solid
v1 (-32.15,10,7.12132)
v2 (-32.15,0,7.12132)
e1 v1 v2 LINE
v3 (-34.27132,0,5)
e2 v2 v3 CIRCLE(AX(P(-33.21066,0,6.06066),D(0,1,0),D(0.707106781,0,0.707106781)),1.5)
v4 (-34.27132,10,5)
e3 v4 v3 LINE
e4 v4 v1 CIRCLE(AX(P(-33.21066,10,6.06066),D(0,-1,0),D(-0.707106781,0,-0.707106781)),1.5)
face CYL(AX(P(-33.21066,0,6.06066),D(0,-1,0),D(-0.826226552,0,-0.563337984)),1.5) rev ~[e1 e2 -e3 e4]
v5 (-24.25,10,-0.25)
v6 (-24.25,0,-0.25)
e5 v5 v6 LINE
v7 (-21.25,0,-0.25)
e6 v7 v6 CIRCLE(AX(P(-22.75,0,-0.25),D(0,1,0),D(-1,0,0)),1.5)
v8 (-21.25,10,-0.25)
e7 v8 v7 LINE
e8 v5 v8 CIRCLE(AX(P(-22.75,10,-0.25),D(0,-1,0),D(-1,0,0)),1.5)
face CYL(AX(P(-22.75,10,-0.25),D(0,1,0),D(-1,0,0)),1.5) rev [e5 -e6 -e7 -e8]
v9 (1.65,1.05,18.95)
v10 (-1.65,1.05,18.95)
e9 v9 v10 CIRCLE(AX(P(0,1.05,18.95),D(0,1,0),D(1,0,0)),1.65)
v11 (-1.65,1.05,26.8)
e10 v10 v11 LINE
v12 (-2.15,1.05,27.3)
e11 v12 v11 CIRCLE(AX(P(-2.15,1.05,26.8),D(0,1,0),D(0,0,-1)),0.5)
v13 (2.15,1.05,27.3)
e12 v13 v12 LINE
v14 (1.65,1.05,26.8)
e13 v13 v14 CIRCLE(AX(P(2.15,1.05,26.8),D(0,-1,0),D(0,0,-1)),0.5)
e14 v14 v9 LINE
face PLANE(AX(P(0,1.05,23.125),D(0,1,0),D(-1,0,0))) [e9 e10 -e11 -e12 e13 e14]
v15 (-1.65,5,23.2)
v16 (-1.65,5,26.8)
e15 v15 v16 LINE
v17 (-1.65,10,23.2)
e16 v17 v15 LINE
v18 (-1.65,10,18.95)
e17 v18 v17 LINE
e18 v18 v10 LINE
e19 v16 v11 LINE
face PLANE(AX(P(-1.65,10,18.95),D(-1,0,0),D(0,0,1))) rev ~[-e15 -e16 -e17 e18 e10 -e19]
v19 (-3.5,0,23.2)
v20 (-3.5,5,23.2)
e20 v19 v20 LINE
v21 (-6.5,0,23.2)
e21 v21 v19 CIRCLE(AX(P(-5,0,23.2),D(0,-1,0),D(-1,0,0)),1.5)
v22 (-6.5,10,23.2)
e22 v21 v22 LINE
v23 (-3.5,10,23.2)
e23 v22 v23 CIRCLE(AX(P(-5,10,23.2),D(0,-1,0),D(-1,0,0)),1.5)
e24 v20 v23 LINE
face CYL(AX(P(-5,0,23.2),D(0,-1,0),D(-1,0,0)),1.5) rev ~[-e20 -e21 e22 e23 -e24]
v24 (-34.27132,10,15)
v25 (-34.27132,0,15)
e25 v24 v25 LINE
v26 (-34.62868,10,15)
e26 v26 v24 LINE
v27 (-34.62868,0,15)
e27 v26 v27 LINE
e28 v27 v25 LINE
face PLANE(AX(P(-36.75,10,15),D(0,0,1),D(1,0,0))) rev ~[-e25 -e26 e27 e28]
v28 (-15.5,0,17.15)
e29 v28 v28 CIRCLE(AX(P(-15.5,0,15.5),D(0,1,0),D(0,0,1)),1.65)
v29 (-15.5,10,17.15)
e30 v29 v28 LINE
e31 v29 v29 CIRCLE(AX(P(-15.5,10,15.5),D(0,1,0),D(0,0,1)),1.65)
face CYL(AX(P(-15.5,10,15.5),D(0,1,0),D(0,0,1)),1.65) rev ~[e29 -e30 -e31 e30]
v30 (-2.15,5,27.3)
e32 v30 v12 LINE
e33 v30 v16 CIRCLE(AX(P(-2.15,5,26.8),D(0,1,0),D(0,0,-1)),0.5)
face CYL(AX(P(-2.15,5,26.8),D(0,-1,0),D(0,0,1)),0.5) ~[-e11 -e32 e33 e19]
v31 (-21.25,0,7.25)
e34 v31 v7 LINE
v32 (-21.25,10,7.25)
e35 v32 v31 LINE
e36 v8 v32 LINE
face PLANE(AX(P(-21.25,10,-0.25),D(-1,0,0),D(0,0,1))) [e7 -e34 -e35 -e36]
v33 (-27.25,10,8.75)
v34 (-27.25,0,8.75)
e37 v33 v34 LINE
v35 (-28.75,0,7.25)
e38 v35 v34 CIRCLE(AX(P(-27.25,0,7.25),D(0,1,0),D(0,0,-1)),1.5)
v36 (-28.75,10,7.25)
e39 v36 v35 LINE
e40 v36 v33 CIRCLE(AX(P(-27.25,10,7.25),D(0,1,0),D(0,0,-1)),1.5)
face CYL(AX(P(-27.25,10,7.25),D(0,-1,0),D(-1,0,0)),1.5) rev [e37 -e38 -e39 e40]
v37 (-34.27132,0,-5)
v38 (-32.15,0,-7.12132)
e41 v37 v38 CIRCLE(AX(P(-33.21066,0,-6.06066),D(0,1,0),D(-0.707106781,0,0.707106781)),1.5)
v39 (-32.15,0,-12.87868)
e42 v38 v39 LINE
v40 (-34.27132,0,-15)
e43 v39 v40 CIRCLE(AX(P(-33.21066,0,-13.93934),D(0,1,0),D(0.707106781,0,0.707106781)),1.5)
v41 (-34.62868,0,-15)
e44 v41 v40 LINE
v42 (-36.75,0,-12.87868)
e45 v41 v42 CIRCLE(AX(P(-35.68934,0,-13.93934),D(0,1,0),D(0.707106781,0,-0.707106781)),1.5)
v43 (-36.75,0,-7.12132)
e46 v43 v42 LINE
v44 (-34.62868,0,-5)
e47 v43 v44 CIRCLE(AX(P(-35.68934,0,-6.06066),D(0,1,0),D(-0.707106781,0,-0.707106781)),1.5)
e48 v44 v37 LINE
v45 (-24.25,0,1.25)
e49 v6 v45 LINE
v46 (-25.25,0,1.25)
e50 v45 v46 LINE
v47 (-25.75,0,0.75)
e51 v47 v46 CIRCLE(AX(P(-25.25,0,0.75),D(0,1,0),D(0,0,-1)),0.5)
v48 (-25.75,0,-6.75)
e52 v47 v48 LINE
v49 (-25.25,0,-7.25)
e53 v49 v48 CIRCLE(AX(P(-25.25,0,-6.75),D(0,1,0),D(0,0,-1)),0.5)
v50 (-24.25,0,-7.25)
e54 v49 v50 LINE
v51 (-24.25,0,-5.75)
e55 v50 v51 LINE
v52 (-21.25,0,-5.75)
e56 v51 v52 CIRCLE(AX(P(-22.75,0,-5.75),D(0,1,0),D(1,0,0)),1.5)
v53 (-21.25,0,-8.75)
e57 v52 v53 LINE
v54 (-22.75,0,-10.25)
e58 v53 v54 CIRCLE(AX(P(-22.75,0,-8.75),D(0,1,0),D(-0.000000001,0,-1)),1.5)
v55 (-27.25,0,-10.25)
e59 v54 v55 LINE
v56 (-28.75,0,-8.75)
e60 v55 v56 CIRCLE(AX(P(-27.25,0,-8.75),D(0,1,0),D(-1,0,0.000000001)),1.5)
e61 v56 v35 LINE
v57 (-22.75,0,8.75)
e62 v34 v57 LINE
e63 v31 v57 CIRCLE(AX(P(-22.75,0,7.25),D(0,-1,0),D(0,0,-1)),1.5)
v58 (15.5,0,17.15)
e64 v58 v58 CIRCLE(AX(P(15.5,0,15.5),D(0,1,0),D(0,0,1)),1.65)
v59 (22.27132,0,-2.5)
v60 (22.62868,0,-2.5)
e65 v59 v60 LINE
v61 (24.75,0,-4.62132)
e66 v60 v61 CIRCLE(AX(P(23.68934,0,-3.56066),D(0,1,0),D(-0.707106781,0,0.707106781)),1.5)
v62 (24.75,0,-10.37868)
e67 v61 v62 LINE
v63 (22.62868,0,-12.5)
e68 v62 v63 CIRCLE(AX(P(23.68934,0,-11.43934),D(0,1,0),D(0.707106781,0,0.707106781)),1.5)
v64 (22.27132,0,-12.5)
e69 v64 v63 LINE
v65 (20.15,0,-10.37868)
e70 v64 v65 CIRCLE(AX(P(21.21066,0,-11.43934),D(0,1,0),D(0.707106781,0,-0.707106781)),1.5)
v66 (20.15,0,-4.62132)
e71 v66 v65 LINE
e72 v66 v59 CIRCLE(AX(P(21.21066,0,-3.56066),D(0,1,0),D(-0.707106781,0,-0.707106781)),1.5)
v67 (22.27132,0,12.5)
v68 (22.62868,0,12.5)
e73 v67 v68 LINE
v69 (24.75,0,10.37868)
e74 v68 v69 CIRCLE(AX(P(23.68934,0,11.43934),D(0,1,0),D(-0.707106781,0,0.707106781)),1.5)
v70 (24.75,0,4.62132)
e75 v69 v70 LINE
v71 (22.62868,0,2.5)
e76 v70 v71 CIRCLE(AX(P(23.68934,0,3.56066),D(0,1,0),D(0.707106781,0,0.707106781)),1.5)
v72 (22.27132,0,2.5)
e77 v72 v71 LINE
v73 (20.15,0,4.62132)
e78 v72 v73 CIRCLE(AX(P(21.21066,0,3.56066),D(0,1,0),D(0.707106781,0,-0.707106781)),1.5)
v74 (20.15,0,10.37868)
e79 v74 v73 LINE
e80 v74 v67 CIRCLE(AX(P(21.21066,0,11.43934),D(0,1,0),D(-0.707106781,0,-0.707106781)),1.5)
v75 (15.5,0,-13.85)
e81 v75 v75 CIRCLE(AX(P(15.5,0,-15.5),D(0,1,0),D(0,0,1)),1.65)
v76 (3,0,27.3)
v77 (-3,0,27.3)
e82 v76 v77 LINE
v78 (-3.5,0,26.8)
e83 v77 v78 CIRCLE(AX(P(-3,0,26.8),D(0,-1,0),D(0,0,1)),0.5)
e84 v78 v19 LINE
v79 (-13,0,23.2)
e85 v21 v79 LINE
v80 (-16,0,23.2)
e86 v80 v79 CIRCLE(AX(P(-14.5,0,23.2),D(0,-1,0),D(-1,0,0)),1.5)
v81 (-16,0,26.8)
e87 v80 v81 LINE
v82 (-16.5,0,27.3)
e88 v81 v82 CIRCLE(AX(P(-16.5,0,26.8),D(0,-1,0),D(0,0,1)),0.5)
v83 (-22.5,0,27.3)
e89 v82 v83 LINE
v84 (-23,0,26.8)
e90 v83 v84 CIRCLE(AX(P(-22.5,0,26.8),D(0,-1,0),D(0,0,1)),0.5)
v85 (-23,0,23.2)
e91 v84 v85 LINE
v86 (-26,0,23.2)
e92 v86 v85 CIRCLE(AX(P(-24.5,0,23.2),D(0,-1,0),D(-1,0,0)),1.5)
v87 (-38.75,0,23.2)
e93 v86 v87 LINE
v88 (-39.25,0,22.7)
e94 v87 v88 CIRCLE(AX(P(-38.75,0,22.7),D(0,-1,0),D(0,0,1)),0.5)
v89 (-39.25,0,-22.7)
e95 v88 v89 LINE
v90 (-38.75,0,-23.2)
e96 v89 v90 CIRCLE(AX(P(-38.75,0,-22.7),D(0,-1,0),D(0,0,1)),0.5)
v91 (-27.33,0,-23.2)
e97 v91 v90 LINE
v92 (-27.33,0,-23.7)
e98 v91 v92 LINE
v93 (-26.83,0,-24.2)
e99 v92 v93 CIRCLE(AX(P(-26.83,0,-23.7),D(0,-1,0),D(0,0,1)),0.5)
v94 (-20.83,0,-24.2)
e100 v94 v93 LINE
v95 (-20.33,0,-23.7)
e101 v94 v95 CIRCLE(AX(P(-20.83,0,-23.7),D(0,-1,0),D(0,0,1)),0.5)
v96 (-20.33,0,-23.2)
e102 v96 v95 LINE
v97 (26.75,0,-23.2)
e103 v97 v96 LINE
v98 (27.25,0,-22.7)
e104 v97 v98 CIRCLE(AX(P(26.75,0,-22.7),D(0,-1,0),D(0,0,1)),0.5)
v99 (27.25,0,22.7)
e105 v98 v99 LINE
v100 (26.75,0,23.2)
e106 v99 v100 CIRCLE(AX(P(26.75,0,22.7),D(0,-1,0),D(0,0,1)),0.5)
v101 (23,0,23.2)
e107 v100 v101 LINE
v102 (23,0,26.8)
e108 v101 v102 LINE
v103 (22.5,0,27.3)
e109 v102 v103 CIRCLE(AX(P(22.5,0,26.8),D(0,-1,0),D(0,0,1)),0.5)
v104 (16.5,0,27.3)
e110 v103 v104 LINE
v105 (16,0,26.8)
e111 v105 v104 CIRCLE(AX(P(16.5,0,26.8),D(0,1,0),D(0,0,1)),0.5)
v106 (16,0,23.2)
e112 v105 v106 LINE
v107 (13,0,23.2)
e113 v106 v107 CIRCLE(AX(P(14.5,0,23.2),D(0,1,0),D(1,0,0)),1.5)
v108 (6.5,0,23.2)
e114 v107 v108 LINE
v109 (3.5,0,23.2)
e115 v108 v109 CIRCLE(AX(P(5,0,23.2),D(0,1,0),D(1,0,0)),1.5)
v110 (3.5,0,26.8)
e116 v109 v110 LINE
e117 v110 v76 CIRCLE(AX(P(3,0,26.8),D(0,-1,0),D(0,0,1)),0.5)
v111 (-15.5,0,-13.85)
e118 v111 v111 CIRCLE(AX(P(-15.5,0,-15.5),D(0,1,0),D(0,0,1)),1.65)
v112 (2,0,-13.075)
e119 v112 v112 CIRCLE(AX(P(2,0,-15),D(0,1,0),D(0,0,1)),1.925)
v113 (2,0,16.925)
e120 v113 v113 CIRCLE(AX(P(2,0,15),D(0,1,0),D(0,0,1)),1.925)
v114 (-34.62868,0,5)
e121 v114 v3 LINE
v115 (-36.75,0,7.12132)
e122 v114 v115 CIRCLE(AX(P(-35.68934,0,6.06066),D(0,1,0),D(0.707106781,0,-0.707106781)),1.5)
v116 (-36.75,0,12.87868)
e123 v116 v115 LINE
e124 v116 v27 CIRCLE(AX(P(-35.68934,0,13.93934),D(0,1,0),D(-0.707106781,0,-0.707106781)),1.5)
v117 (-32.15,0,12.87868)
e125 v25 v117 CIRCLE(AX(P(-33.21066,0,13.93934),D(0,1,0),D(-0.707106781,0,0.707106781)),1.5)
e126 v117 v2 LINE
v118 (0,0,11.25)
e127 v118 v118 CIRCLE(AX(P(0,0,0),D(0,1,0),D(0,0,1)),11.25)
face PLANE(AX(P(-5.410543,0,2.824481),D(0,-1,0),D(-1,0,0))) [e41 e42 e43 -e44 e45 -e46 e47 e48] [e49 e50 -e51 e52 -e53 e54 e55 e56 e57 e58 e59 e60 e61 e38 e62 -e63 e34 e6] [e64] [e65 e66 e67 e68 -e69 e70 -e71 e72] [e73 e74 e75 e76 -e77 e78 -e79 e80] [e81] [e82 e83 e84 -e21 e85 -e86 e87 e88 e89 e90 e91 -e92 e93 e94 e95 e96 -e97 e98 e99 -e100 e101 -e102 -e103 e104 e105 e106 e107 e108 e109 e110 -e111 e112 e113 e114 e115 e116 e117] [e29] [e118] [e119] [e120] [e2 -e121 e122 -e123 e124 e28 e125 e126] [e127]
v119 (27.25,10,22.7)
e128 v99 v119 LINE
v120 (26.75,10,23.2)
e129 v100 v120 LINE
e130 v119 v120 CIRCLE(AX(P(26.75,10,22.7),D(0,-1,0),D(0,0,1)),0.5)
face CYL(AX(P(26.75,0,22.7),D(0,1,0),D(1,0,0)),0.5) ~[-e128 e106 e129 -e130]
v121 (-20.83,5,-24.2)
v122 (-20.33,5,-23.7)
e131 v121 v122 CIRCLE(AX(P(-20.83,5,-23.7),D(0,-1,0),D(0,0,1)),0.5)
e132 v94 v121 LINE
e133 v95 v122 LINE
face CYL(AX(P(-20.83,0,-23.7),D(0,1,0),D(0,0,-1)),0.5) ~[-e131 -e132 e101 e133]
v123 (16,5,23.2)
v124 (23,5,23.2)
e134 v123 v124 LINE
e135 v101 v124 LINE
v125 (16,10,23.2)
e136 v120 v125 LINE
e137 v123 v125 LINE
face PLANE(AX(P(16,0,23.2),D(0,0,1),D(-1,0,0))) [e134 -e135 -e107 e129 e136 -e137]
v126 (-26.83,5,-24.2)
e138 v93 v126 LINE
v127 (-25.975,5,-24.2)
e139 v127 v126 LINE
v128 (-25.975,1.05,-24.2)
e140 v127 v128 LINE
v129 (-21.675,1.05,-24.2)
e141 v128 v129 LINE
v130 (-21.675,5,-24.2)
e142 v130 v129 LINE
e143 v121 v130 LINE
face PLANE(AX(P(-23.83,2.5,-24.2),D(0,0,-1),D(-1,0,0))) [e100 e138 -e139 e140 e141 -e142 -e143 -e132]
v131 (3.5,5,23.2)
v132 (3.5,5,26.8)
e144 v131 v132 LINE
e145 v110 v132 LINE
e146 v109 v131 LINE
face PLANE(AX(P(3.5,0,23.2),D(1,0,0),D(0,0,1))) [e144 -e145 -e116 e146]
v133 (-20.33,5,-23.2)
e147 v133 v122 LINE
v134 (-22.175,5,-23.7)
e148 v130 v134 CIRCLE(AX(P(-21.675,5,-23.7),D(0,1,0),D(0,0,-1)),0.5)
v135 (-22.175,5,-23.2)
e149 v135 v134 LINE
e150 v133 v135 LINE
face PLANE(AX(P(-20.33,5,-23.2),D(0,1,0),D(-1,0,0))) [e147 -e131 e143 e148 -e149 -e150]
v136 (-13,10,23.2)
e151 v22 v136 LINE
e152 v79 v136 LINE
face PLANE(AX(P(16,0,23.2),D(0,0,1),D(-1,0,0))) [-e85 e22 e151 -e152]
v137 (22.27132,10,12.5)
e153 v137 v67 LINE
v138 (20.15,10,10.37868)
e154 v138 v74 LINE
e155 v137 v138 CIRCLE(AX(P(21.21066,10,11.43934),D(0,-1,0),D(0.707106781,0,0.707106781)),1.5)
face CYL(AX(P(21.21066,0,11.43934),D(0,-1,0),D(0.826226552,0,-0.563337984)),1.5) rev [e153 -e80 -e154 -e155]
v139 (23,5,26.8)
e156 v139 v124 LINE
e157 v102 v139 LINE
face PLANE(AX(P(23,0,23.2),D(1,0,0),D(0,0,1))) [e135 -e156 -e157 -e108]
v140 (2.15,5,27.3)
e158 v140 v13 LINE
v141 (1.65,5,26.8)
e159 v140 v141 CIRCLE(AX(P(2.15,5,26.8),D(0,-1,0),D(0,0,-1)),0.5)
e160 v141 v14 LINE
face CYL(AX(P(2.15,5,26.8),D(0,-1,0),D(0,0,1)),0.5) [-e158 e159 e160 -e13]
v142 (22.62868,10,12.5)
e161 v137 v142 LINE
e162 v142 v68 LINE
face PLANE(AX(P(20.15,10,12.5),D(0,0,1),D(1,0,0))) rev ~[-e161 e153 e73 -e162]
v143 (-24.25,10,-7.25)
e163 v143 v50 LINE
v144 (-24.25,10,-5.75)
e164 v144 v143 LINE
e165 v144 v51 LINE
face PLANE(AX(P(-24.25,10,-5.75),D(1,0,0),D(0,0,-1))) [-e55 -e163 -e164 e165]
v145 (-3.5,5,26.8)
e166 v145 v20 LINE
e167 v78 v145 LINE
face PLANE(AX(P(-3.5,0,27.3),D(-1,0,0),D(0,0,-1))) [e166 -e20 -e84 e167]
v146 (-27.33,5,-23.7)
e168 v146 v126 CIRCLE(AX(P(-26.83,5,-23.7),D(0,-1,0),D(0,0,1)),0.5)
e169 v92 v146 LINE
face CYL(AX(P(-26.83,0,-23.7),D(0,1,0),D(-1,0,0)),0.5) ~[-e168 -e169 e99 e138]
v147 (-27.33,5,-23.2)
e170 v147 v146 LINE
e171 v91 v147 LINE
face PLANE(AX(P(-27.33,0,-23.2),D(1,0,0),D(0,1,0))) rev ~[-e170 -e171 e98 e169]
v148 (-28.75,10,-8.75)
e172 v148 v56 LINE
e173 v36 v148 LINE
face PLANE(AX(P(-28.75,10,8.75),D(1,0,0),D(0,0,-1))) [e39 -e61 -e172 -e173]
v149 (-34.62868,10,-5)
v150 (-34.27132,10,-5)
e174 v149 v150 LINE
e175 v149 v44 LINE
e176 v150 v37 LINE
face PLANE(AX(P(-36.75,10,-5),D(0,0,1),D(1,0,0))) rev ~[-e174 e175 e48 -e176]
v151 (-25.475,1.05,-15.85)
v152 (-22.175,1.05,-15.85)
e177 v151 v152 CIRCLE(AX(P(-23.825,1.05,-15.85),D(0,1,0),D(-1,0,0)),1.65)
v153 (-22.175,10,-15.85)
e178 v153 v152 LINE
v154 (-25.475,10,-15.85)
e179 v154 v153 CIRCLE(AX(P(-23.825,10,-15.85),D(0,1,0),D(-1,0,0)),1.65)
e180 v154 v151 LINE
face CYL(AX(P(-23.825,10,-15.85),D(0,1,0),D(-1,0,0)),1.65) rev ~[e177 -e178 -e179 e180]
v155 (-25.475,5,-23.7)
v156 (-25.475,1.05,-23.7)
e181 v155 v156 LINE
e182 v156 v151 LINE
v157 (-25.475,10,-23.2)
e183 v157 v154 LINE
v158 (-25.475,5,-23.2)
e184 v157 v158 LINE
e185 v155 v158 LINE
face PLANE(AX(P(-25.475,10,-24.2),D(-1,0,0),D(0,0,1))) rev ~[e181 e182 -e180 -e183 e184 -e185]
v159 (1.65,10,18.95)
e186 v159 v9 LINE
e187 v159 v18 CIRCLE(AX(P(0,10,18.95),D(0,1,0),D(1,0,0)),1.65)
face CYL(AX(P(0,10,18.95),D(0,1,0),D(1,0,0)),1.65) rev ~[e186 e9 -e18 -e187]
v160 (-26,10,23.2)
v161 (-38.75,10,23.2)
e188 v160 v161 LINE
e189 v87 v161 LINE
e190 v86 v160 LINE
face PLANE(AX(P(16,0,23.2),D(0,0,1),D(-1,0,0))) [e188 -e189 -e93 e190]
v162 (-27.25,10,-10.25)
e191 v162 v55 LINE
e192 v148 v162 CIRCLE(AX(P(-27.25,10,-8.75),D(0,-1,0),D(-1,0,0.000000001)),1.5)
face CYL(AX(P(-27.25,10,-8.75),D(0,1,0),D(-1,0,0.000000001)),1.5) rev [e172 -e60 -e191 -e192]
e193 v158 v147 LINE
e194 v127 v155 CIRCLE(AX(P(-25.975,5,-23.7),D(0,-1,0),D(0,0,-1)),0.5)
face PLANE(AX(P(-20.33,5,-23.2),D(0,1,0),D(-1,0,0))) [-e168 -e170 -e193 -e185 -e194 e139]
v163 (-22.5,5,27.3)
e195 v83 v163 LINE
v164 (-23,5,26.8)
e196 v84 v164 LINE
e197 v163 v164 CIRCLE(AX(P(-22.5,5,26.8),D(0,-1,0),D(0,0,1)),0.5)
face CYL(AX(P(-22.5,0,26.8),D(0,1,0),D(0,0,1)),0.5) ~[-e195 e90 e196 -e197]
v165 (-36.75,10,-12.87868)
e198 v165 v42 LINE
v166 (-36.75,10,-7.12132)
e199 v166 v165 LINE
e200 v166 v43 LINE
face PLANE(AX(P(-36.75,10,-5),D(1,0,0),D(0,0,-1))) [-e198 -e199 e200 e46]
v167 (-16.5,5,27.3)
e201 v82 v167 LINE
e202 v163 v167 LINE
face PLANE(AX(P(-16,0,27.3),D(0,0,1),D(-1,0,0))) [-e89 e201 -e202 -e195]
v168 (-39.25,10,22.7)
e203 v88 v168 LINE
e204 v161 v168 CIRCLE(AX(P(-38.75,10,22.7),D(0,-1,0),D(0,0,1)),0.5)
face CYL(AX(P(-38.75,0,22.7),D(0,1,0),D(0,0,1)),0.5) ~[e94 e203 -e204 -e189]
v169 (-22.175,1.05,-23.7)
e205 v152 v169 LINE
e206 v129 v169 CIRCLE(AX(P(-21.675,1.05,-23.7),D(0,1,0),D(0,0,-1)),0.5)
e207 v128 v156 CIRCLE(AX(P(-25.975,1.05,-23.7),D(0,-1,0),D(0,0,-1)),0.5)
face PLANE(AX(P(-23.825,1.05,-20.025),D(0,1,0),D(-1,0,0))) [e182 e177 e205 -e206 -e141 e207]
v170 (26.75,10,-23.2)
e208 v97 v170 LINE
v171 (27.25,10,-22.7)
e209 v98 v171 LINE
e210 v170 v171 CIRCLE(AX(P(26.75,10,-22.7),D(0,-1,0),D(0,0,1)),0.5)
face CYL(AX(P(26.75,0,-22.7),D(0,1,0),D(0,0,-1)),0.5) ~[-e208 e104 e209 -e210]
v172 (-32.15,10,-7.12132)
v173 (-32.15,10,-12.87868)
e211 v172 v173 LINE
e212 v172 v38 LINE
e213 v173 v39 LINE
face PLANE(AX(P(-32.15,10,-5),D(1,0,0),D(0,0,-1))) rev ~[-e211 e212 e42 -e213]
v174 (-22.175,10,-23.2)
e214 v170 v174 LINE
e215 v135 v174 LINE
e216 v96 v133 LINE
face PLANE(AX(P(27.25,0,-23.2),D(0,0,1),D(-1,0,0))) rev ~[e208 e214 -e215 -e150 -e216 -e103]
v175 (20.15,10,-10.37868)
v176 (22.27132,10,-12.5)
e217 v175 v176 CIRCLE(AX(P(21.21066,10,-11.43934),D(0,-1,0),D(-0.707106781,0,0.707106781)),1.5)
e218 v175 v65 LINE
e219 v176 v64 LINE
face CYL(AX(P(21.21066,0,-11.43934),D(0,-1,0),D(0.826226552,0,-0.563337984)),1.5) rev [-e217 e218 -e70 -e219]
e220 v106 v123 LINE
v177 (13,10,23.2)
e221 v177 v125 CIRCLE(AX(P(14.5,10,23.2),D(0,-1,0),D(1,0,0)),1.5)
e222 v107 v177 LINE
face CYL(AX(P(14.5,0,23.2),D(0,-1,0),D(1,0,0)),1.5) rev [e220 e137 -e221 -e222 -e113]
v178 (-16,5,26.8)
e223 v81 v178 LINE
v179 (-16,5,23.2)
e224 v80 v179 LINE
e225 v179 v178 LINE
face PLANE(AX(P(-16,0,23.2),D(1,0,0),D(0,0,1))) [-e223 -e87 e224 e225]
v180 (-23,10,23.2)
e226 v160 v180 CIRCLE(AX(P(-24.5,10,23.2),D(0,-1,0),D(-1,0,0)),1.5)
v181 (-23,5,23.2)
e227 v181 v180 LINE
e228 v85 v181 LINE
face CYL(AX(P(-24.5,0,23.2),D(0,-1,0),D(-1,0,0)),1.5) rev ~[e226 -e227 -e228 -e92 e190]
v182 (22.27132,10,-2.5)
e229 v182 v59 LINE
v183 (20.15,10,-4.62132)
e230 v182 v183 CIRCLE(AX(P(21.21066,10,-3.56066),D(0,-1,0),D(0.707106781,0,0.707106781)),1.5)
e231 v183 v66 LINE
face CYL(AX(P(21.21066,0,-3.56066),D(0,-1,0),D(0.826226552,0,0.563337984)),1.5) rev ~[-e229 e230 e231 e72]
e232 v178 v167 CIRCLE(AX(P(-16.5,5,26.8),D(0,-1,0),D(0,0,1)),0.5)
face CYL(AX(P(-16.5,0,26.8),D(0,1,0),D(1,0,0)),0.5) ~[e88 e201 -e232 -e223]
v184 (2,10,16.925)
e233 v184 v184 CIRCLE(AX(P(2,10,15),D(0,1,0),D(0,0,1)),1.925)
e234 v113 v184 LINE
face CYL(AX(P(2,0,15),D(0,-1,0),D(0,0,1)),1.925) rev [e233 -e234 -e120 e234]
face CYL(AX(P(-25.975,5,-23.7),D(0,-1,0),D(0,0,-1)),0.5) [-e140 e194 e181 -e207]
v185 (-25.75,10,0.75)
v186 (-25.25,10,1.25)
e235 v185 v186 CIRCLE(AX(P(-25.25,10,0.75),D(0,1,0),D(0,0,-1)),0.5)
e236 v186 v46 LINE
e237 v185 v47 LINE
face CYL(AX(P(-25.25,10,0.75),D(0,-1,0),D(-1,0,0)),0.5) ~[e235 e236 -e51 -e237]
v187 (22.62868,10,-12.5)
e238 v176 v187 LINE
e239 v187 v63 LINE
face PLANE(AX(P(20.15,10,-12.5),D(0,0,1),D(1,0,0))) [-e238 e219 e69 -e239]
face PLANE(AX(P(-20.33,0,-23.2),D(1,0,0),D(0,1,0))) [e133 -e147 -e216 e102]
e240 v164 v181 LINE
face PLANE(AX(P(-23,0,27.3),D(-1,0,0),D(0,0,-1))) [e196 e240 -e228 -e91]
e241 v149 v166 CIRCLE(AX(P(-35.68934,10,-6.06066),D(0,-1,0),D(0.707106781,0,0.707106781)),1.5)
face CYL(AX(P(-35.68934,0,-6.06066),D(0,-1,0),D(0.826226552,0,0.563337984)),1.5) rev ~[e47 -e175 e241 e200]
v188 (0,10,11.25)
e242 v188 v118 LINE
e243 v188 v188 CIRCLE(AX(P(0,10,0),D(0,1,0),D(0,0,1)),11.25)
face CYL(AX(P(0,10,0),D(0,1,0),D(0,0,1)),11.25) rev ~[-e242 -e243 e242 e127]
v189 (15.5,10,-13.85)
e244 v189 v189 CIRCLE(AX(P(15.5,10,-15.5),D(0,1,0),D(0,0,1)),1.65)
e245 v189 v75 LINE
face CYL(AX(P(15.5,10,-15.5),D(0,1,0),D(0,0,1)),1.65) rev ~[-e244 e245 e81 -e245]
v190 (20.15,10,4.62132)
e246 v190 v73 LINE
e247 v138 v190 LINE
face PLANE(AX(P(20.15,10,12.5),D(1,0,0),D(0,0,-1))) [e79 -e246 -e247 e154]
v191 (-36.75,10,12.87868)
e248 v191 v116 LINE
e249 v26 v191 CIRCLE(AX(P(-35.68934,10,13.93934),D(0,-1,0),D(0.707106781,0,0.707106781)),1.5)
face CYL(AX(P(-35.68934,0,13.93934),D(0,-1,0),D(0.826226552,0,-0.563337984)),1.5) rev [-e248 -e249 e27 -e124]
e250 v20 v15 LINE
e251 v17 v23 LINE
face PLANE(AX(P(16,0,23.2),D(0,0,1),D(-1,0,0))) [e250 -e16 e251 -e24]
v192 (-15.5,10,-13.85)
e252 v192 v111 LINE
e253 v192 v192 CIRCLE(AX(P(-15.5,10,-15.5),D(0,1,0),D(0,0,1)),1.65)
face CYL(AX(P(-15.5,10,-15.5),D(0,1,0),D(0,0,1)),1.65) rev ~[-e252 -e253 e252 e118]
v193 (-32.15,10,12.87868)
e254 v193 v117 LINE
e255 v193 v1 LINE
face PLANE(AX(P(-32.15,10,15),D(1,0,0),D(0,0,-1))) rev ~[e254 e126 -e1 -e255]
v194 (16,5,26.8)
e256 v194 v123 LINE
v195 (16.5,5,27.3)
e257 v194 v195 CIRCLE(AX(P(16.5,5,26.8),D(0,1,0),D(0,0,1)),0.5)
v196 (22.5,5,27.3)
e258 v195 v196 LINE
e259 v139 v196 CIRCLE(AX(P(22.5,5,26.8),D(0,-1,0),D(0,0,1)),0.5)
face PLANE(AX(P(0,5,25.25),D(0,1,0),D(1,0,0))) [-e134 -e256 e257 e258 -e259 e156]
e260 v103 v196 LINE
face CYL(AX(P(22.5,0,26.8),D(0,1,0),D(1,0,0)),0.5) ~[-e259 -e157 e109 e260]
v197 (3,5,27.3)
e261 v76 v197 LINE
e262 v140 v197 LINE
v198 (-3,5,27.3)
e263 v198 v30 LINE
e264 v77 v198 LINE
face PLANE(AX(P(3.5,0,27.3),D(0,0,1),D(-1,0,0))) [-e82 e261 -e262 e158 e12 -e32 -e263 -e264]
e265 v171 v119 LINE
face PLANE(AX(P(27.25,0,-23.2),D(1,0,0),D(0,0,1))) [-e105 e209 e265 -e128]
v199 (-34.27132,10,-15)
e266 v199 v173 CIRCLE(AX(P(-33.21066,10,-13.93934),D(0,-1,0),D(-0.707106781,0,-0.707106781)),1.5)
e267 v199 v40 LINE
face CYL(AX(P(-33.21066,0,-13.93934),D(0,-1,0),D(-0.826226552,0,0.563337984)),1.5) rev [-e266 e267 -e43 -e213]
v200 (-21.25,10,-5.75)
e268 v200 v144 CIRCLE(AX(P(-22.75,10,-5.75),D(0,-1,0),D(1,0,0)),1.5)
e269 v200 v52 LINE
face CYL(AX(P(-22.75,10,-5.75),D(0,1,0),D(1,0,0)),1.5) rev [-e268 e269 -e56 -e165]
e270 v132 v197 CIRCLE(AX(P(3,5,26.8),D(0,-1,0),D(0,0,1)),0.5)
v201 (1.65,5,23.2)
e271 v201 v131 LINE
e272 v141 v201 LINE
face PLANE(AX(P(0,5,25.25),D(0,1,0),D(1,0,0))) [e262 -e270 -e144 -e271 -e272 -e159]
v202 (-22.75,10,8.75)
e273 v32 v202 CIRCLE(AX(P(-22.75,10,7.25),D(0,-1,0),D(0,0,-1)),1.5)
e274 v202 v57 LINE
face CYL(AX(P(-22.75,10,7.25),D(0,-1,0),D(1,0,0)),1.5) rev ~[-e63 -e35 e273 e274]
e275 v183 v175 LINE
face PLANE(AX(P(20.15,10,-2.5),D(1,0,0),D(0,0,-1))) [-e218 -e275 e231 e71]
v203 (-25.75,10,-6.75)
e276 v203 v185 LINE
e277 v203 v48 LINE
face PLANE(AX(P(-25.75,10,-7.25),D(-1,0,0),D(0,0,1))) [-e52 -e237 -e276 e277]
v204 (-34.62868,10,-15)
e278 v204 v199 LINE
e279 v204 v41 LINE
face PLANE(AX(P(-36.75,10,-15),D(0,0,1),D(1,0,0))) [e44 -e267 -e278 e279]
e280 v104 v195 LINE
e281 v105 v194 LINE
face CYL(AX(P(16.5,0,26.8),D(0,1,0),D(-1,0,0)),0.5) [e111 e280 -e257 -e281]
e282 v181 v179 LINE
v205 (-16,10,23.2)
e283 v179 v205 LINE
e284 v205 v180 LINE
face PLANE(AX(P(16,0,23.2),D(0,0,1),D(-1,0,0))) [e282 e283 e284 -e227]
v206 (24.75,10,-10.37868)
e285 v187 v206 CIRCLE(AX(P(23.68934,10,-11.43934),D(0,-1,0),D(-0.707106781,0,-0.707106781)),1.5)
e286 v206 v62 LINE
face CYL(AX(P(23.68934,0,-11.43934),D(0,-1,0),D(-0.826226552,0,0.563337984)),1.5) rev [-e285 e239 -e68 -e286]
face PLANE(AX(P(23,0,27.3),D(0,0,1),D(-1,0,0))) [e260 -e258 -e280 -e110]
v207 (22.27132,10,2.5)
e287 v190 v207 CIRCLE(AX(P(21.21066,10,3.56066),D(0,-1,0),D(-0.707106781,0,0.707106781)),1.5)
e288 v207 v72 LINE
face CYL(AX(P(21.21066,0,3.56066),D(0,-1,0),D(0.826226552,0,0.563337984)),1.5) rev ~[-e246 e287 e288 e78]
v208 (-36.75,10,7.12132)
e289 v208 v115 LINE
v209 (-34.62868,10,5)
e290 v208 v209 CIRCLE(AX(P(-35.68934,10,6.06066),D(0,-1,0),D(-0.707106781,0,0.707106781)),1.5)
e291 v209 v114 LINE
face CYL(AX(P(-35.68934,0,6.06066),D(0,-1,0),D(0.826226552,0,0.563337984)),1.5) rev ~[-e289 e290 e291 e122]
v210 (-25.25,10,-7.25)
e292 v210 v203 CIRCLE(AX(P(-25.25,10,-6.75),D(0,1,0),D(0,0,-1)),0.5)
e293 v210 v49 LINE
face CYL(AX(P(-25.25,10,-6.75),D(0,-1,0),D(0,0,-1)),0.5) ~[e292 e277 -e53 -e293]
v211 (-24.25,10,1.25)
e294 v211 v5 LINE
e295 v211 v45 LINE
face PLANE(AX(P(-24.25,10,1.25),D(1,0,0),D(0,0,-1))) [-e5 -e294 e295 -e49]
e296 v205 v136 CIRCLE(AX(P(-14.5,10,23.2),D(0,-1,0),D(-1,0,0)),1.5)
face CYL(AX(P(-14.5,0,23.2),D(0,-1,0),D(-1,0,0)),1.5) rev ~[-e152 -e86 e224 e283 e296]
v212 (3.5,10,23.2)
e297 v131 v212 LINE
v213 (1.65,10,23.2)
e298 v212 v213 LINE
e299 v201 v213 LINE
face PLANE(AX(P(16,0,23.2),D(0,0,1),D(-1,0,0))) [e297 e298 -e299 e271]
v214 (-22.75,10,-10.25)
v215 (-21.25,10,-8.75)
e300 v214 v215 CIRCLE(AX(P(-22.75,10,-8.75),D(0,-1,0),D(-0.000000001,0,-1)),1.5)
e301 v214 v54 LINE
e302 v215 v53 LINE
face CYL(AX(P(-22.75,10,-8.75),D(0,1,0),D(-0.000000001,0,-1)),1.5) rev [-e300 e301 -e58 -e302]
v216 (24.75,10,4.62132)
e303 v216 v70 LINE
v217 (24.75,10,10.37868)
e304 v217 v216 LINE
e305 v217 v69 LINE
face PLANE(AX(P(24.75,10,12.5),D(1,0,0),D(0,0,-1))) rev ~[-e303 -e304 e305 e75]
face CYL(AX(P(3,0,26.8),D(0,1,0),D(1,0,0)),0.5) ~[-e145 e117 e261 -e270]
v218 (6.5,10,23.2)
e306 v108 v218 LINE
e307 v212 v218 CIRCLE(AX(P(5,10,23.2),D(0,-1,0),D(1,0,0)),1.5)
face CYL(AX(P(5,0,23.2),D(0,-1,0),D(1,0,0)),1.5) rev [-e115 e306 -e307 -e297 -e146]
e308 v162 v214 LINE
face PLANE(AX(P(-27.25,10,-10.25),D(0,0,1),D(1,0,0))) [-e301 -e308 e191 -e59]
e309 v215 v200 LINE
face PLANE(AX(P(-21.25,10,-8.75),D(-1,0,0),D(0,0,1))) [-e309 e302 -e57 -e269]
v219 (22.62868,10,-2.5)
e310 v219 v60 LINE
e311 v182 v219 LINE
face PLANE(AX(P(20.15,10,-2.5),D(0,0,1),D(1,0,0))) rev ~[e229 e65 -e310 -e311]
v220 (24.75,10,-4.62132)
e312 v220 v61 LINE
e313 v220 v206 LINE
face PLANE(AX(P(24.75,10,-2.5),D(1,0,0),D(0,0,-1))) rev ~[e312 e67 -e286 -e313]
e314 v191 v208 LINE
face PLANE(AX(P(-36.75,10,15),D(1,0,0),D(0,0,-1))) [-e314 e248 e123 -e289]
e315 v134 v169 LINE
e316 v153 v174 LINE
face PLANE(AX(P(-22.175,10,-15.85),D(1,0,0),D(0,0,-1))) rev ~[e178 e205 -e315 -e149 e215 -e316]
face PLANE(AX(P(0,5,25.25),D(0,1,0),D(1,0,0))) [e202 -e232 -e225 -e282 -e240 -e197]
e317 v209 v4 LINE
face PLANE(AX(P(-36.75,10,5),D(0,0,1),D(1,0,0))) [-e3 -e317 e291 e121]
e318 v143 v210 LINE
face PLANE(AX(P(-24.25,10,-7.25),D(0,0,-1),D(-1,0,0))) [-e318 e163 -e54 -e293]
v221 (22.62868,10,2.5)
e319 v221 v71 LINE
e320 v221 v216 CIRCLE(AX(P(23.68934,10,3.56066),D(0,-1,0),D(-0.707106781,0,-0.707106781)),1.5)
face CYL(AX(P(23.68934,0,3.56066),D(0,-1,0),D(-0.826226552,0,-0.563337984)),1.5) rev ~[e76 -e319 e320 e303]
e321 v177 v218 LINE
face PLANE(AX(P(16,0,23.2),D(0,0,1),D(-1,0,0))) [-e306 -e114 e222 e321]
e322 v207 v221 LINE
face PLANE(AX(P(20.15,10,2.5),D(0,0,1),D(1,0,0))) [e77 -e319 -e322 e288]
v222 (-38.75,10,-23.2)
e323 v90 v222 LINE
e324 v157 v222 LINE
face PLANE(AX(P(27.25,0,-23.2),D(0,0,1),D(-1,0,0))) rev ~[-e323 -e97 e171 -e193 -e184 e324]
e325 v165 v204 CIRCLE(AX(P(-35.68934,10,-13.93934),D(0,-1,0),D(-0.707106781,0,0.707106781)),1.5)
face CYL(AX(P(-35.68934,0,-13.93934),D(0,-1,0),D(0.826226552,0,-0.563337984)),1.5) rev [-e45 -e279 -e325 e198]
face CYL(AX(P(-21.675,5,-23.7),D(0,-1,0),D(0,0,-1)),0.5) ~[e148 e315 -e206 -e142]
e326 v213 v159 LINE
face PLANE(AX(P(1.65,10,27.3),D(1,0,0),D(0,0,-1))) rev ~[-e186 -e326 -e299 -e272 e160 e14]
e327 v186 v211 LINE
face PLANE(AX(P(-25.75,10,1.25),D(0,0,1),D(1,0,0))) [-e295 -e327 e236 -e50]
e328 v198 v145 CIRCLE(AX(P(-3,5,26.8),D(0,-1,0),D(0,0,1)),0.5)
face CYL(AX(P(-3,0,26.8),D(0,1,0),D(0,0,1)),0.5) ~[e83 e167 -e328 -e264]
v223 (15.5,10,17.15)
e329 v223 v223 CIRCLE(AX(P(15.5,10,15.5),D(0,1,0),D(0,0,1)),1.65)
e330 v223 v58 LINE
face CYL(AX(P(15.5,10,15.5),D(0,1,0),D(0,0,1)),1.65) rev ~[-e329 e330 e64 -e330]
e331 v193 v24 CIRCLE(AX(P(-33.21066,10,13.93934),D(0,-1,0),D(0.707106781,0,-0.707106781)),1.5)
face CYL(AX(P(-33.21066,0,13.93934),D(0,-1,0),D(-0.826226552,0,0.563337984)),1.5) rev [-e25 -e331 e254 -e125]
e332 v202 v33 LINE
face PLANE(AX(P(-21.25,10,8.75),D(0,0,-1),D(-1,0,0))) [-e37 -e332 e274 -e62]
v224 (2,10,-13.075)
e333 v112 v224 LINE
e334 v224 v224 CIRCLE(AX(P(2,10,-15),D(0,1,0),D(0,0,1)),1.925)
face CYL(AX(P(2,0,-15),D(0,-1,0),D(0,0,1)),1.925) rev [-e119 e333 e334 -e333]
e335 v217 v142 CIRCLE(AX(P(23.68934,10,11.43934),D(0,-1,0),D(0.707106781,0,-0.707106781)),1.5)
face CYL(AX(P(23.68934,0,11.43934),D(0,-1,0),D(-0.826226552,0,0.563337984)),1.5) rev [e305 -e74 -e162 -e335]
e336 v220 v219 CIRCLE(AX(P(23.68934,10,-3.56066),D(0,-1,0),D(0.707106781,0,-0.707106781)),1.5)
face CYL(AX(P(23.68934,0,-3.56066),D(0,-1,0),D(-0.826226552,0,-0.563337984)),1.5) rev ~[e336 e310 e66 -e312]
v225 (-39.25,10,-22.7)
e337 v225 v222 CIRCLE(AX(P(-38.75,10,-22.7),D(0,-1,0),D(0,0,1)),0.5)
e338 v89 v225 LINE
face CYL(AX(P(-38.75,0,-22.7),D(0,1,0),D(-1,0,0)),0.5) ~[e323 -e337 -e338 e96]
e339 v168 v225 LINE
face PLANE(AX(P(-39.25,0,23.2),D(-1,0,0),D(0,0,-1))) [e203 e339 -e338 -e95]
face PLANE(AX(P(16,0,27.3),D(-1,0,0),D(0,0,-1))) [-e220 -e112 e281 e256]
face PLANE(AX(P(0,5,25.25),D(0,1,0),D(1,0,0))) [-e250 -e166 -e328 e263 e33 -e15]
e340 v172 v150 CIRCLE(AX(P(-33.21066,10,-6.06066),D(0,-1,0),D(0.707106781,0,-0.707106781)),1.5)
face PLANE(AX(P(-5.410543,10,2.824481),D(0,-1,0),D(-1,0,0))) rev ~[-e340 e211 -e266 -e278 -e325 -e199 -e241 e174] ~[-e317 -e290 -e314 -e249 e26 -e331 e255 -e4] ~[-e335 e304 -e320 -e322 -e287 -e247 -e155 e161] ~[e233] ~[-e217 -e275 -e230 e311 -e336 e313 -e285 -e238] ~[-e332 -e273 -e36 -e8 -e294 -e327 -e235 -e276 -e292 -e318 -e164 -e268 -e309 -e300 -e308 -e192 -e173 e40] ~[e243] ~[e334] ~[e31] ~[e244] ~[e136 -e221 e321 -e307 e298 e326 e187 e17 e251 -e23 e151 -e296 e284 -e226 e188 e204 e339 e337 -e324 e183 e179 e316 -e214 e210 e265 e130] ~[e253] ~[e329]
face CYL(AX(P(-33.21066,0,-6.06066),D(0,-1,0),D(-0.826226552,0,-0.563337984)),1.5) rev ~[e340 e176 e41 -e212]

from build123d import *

# Parameters (mm, degrees)
SKETCH1_R           = 1.925
BOSS_EXTRUDE1_DEPTH = 10
SKETCH2_R           = 11.25
SKETCH2_R_2         = 1.65
CUT_EXTRUDE1_DEPTH  = 49.845189118
SKETCH7_W           = 46
SKETCH7_H           = 4.1
CUT_EXTRUDE6_DEPTH  = 5
SKETCH10_W          = 4.6
SKETCH10_H          = 10
CUT_EXTRUDE8_DEPTH  = 10
CUT_EXTRUDE7_DEPTH  = 49.845189118
SKETCH13_W          = 7
SKETCH13_H          = 5
BOSS_EXTRUDE2_DEPTH = 1
CUT_EXTRUDE9_DEPTH  = 8.95
FILLET7_R           = 0.5
CUT_EXTRUDE10_DEPTH = 49.845189118
FILLET8_R           = 0.5
FILLET9_R           = 1.5


with BuildPart() as part:
    # Sketch1 → Boss-Extrude1 (new body)
    with BuildSketch(Plane(origin=(0, 0, 0), x_dir=(1, 0, 0), z_dir=(0, 1, 0))):
        Polygon((16, -23.2), (3.5, -23.2), (3.5, -27.3), (-3.5, -27.3), (-3.5, -23.2), (-16, -23.2), (-16, -27.3), (-23, -27.3), (-23, -23.2), (-39.25, -23.2), (-39.25, 23.2), (-23, 23.2), (23, 23.2), (27.25, 23.2), (27.25, -23.2), (23, -23.2), (23, -27.3), (16, -27.3), align=None)
        with Locations((2, -15)):
            Circle(SKETCH1_R, mode=Mode.SUBTRACT)
        with Locations((2, 15)):
            Circle(SKETCH1_R, mode=Mode.SUBTRACT)
    extrude(amount=BOSS_EXTRUDE1_DEPTH)

    # Sketch2 → Cut-Extrude1 (cut, through all)
    with BuildSketch(Plane(origin=(0, 10, 0), x_dir=(1, 0, 0), z_dir=(0, 1, 0))):
        Circle(SKETCH2_R)
        with Locations((-15.5, 15.5)):
            Circle(SKETCH2_R_2)
        with Locations((15.5, 15.5)):
            Circle(SKETCH2_R_2)
        with Locations((15.5, -15.5)):
            Circle(SKETCH2_R_2)
        with Locations((-15.5, -15.5)):
            Circle(SKETCH2_R_2)
    extrude(amount=-CUT_EXTRUDE1_DEPTH, mode=Mode.SUBTRACT)

    # Sketch7 → Cut-Extrude6 (cut)
    with BuildSketch(Plane(origin=(0, 10, 0), x_dir=(1, 0, 0), z_dir=(0, 1, 0))):
        with Locations((0, -25.25)):
            Rectangle(SKETCH7_W, SKETCH7_H)
    extrude(amount=-CUT_EXTRUDE6_DEPTH, mode=Mode.SUBTRACT)

    # Sketch10 → Cut-Extrude8 (cut)
    with BuildSketch(Plane(origin=(0, 10, 0), x_dir=(1, 0, 0), z_dir=(0, 1, 0))):
        with Locations((-34.45, 10)):
            Rectangle(SKETCH10_W, SKETCH10_H)
        with Locations((-34.45, -10)):
            Rectangle(SKETCH10_W, SKETCH10_H)
        with Locations((22.45, 7.5)):
            Rectangle(SKETCH10_W, SKETCH10_H)
        with Locations((22.45, -7.5)):
            Rectangle(SKETCH10_W, SKETCH10_H)
    extrude(amount=-CUT_EXTRUDE8_DEPTH, mode=Mode.SUBTRACT)

    # Sketch8 → Cut-Extrude7 (cut, through all)
    with BuildSketch(Plane.XZ):
        with BuildLine():
            Line((-23, 23.2), (-23, 27.3))
            ThreePointArc((-23, 27.3), (-24.5, 28.8), (-26, 27.3))
            Line((-26, 27.3), (-26, 23.2))
            ThreePointArc((-26, 23.2), (-24.5, 21.7), (-23, 23.2))
        make_face()
        with BuildLine():
            Line((13, 23.2), (13, 27.3))
            ThreePointArc((13, 27.3), (14.5, 28.8), (16, 27.3))
            Line((16, 27.3), (16, 23.2))
            ThreePointArc((16, 23.2), (14.5, 21.7), (13, 23.2))
        make_face()
        with BuildLine():
            Line((6.5, 27.3), (6.5, 23.2))
            ThreePointArc((6.5, 23.2), (5, 21.7), (3.5, 23.2))
            Line((3.5, 23.2), (3.5, 27.3))
            ThreePointArc((3.5, 27.3), (5, 28.8), (6.5, 27.3))
        make_face()
        with BuildLine():
            Line((-13, 23.2), (-13, 27.3))
            ThreePointArc((-13, 27.3), (-14.5, 28.8), (-16, 27.3))
            Line((-16, 27.3), (-16, 23.2))
            ThreePointArc((-16, 23.2), (-14.5, 21.7), (-13, 23.2))
        make_face()
        with BuildLine():
            Line((-6.5, 27.3), (-6.5, 23.2))
            ThreePointArc((-6.5, 23.2), (-5, 21.7), (-3.5, 23.2))
            Line((-3.5, 23.2), (-3.5, 27.3))
            ThreePointArc((-3.5, 27.3), (-5, 28.8), (-6.5, 27.3))
        make_face()
        with BuildLine():
            ThreePointArc((22.45, 12.284346805), (25.189339828, 11.439339828), (22.45, 10.594332852))
            ThreePointArc((22.45, 10.594332852), (19.710660172, 11.439339828), (22.45, 12.284346805))
        make_face()
        with BuildLine():
            ThreePointArc((22.45, 2.715653195), (25.189339828, 3.560660172), (22.45, 4.405667148))
            ThreePointArc((22.45, 4.405667148), (19.710660172, 3.560660172), (22.45, 2.715653195))
        make_face()
        with BuildLine():
            ThreePointArc((-34.45, -14.784346805), (-37.189339828, -13.939339828), (-34.45, -13.094332852))
            ThreePointArc((-34.45, -13.094332852), (-31.710660172, -13.939339828), (-34.45, -14.784346805))
        make_face()
        with BuildLine():
            ThreePointArc((-34.45, -5.215653195), (-37.189339828, -6.060660172), (-34.45, -6.905667148))
            ThreePointArc((-34.45, -6.905667148), (-31.710660172, -6.060660172), (-34.45, -5.215653195))
        make_face()
        with BuildLine():
            ThreePointArc((-34.45, 14.784346805), (-31.710660172, 13.939339828), (-34.45, 13.094332852))
            ThreePointArc((-34.45, 13.094332852), (-37.189339828, 13.939339828), (-34.45, 14.784346805))
        make_face()
        with BuildLine():
            ThreePointArc((-34.45, 5.215653195), (-31.710660172, 6.060660172), (-34.45, 6.905667148))
            ThreePointArc((-34.45, 6.905667148), (-37.189339828, 6.060660172), (-34.45, 5.215653195))
        make_face()
        with BuildLine():
            ThreePointArc((22.45, -12.284346805), (19.710660172, -11.439339828), (22.45, -10.594332852))
            ThreePointArc((22.45, -10.594332852), (25.189339828, -11.439339828), (22.45, -12.284346805))
        make_face()
        with BuildLine():
            ThreePointArc((22.45, -2.715653195), (19.710660172, -3.560660172), (22.45, -4.405667148))
            ThreePointArc((22.45, -4.405667148), (25.189339828, -3.560660172), (22.45, -2.715653195))
        make_face()
    extrude(amount=-CUT_EXTRUDE7_DEPTH, mode=Mode.SUBTRACT)

    # Sketch13 → Boss-Extrude2 (add)
    with BuildSketch(Plane(origin=(0, 0, -23.2), x_dir=(-1, 0, 0), z_dir=(0, 0, -1))):
        with Locations((23.83, 2.5)):
            Rectangle(SKETCH13_W, SKETCH13_H)
    extrude(amount=BOSS_EXTRUDE2_DEPTH)

    # Sketch12 → Cut-Extrude9 (cut)
    with BuildSketch(Plane.XZ.offset(-10)):
        with BuildLine():
            Line((-25.475, -24.2), (-25.475, -15.85))
            ThreePointArc((-25.475, -15.85), (-23.825, -14.2), (-22.175, -15.85))
            Line((-22.175, -15.85), (-22.175, -24.2))
            ThreePointArc((-22.175, -24.2), (-23.825, -25.85), (-25.475, -24.2))
        make_face()
        with BuildLine():
            Line((1.65, 27.3), (1.65, 18.95))
            ThreePointArc((1.65, 18.95), (0, 17.3), (-1.65, 18.95))
            Line((-1.65, 18.95), (-1.65, 27.3))
            ThreePointArc((-1.65, 27.3), (0, 28.95), (1.65, 27.3))
        make_face()
    extrude(amount=CUT_EXTRUDE9_DEPTH, mode=Mode.SUBTRACT)

    # Fillet7
    fillet7_edges = [part.edges().sort_by_distance(p)[0] for p in [
        (-23, 2.5, 27.3),
        (-16, 2.5, 27.3),
        (-3.5, 2.5, 27.3),
        (3.5, 2.5, 27.3),
        (16, 2.5, 27.3),
        (23, 2.5, 27.3),
        (27.25, 5, -23.2),
        (-39.25, 5, -23.2),
        (-39.25, 5, 23.2),
        (27.25, 5, 23.2),
        (-27.33, 2.5, -24.2),
        (-20.33, 2.5, -24.2),
        (-22.175, 3.025, -24.2),
        (-25.475, 3.025, -24.2),
        (1.65, 3.025, 27.3),
        (-1.65, 3.025, 27.3),
    ]]
    fillet(fillet7_edges, radius=FILLET7_R)

    # Sketch14 → Cut-Extrude10 (cut, through all)
    with BuildSketch(Plane.XZ.offset(-10)):
        with BuildLine():
            Line((-21.25, 8.75), (-28.75, 8.75))
            Line((-28.75, 8.75), (-28.75, -8.75))
            ThreePointArc((-28.75, -8.75), (-28.310660172, -9.810660172), (-27.25, -10.25))
            Line((-27.25, -10.25), (-22.75, -10.25))
            ThreePointArc((-22.75, -10.25), (-21.689339828, -9.810660172), (-21.25, -8.75))
            Line((-21.25, -8.75), (-21.25, -5.75))
            ThreePointArc((-21.25, -5.75), (-22.75, -4.25), (-24.25, -5.75))
            Line((-24.25, -5.75), (-24.25, -7.25))
            Line((-24.25, -7.25), (-25.75, -7.25))
            Line((-25.75, -7.25), (-25.75, 1.25))
            Line((-25.75, 1.25), (-24.25, 1.25))
            Line((-24.25, 1.25), (-24.25, -0.25))
            ThreePointArc((-24.25, -0.25), (-22.75, -1.75), (-21.25, -0.25))
            Line((-21.25, -0.25), (-21.25, 8.75))
        make_face()
    extrude(amount=CUT_EXTRUDE10_DEPTH, mode=Mode.SUBTRACT)

    # Fillet8
    fillet8_edges = [part.edges().sort_by_distance(p)[0] for p in [
        (-25.75, 5, -7.25),
        (-25.75, 5, 1.25),
    ]]
    fillet(fillet8_edges, radius=FILLET8_R)

    # Fillet9
    fillet9_edges = [part.edges().sort_by_distance(p)[0] for p in [
        (-21.25, 5, 8.75),
        (-28.75, 5, 8.75),
    ]]
    fillet(fillet9_edges, radius=FILLET9_R)


solid = part.part
